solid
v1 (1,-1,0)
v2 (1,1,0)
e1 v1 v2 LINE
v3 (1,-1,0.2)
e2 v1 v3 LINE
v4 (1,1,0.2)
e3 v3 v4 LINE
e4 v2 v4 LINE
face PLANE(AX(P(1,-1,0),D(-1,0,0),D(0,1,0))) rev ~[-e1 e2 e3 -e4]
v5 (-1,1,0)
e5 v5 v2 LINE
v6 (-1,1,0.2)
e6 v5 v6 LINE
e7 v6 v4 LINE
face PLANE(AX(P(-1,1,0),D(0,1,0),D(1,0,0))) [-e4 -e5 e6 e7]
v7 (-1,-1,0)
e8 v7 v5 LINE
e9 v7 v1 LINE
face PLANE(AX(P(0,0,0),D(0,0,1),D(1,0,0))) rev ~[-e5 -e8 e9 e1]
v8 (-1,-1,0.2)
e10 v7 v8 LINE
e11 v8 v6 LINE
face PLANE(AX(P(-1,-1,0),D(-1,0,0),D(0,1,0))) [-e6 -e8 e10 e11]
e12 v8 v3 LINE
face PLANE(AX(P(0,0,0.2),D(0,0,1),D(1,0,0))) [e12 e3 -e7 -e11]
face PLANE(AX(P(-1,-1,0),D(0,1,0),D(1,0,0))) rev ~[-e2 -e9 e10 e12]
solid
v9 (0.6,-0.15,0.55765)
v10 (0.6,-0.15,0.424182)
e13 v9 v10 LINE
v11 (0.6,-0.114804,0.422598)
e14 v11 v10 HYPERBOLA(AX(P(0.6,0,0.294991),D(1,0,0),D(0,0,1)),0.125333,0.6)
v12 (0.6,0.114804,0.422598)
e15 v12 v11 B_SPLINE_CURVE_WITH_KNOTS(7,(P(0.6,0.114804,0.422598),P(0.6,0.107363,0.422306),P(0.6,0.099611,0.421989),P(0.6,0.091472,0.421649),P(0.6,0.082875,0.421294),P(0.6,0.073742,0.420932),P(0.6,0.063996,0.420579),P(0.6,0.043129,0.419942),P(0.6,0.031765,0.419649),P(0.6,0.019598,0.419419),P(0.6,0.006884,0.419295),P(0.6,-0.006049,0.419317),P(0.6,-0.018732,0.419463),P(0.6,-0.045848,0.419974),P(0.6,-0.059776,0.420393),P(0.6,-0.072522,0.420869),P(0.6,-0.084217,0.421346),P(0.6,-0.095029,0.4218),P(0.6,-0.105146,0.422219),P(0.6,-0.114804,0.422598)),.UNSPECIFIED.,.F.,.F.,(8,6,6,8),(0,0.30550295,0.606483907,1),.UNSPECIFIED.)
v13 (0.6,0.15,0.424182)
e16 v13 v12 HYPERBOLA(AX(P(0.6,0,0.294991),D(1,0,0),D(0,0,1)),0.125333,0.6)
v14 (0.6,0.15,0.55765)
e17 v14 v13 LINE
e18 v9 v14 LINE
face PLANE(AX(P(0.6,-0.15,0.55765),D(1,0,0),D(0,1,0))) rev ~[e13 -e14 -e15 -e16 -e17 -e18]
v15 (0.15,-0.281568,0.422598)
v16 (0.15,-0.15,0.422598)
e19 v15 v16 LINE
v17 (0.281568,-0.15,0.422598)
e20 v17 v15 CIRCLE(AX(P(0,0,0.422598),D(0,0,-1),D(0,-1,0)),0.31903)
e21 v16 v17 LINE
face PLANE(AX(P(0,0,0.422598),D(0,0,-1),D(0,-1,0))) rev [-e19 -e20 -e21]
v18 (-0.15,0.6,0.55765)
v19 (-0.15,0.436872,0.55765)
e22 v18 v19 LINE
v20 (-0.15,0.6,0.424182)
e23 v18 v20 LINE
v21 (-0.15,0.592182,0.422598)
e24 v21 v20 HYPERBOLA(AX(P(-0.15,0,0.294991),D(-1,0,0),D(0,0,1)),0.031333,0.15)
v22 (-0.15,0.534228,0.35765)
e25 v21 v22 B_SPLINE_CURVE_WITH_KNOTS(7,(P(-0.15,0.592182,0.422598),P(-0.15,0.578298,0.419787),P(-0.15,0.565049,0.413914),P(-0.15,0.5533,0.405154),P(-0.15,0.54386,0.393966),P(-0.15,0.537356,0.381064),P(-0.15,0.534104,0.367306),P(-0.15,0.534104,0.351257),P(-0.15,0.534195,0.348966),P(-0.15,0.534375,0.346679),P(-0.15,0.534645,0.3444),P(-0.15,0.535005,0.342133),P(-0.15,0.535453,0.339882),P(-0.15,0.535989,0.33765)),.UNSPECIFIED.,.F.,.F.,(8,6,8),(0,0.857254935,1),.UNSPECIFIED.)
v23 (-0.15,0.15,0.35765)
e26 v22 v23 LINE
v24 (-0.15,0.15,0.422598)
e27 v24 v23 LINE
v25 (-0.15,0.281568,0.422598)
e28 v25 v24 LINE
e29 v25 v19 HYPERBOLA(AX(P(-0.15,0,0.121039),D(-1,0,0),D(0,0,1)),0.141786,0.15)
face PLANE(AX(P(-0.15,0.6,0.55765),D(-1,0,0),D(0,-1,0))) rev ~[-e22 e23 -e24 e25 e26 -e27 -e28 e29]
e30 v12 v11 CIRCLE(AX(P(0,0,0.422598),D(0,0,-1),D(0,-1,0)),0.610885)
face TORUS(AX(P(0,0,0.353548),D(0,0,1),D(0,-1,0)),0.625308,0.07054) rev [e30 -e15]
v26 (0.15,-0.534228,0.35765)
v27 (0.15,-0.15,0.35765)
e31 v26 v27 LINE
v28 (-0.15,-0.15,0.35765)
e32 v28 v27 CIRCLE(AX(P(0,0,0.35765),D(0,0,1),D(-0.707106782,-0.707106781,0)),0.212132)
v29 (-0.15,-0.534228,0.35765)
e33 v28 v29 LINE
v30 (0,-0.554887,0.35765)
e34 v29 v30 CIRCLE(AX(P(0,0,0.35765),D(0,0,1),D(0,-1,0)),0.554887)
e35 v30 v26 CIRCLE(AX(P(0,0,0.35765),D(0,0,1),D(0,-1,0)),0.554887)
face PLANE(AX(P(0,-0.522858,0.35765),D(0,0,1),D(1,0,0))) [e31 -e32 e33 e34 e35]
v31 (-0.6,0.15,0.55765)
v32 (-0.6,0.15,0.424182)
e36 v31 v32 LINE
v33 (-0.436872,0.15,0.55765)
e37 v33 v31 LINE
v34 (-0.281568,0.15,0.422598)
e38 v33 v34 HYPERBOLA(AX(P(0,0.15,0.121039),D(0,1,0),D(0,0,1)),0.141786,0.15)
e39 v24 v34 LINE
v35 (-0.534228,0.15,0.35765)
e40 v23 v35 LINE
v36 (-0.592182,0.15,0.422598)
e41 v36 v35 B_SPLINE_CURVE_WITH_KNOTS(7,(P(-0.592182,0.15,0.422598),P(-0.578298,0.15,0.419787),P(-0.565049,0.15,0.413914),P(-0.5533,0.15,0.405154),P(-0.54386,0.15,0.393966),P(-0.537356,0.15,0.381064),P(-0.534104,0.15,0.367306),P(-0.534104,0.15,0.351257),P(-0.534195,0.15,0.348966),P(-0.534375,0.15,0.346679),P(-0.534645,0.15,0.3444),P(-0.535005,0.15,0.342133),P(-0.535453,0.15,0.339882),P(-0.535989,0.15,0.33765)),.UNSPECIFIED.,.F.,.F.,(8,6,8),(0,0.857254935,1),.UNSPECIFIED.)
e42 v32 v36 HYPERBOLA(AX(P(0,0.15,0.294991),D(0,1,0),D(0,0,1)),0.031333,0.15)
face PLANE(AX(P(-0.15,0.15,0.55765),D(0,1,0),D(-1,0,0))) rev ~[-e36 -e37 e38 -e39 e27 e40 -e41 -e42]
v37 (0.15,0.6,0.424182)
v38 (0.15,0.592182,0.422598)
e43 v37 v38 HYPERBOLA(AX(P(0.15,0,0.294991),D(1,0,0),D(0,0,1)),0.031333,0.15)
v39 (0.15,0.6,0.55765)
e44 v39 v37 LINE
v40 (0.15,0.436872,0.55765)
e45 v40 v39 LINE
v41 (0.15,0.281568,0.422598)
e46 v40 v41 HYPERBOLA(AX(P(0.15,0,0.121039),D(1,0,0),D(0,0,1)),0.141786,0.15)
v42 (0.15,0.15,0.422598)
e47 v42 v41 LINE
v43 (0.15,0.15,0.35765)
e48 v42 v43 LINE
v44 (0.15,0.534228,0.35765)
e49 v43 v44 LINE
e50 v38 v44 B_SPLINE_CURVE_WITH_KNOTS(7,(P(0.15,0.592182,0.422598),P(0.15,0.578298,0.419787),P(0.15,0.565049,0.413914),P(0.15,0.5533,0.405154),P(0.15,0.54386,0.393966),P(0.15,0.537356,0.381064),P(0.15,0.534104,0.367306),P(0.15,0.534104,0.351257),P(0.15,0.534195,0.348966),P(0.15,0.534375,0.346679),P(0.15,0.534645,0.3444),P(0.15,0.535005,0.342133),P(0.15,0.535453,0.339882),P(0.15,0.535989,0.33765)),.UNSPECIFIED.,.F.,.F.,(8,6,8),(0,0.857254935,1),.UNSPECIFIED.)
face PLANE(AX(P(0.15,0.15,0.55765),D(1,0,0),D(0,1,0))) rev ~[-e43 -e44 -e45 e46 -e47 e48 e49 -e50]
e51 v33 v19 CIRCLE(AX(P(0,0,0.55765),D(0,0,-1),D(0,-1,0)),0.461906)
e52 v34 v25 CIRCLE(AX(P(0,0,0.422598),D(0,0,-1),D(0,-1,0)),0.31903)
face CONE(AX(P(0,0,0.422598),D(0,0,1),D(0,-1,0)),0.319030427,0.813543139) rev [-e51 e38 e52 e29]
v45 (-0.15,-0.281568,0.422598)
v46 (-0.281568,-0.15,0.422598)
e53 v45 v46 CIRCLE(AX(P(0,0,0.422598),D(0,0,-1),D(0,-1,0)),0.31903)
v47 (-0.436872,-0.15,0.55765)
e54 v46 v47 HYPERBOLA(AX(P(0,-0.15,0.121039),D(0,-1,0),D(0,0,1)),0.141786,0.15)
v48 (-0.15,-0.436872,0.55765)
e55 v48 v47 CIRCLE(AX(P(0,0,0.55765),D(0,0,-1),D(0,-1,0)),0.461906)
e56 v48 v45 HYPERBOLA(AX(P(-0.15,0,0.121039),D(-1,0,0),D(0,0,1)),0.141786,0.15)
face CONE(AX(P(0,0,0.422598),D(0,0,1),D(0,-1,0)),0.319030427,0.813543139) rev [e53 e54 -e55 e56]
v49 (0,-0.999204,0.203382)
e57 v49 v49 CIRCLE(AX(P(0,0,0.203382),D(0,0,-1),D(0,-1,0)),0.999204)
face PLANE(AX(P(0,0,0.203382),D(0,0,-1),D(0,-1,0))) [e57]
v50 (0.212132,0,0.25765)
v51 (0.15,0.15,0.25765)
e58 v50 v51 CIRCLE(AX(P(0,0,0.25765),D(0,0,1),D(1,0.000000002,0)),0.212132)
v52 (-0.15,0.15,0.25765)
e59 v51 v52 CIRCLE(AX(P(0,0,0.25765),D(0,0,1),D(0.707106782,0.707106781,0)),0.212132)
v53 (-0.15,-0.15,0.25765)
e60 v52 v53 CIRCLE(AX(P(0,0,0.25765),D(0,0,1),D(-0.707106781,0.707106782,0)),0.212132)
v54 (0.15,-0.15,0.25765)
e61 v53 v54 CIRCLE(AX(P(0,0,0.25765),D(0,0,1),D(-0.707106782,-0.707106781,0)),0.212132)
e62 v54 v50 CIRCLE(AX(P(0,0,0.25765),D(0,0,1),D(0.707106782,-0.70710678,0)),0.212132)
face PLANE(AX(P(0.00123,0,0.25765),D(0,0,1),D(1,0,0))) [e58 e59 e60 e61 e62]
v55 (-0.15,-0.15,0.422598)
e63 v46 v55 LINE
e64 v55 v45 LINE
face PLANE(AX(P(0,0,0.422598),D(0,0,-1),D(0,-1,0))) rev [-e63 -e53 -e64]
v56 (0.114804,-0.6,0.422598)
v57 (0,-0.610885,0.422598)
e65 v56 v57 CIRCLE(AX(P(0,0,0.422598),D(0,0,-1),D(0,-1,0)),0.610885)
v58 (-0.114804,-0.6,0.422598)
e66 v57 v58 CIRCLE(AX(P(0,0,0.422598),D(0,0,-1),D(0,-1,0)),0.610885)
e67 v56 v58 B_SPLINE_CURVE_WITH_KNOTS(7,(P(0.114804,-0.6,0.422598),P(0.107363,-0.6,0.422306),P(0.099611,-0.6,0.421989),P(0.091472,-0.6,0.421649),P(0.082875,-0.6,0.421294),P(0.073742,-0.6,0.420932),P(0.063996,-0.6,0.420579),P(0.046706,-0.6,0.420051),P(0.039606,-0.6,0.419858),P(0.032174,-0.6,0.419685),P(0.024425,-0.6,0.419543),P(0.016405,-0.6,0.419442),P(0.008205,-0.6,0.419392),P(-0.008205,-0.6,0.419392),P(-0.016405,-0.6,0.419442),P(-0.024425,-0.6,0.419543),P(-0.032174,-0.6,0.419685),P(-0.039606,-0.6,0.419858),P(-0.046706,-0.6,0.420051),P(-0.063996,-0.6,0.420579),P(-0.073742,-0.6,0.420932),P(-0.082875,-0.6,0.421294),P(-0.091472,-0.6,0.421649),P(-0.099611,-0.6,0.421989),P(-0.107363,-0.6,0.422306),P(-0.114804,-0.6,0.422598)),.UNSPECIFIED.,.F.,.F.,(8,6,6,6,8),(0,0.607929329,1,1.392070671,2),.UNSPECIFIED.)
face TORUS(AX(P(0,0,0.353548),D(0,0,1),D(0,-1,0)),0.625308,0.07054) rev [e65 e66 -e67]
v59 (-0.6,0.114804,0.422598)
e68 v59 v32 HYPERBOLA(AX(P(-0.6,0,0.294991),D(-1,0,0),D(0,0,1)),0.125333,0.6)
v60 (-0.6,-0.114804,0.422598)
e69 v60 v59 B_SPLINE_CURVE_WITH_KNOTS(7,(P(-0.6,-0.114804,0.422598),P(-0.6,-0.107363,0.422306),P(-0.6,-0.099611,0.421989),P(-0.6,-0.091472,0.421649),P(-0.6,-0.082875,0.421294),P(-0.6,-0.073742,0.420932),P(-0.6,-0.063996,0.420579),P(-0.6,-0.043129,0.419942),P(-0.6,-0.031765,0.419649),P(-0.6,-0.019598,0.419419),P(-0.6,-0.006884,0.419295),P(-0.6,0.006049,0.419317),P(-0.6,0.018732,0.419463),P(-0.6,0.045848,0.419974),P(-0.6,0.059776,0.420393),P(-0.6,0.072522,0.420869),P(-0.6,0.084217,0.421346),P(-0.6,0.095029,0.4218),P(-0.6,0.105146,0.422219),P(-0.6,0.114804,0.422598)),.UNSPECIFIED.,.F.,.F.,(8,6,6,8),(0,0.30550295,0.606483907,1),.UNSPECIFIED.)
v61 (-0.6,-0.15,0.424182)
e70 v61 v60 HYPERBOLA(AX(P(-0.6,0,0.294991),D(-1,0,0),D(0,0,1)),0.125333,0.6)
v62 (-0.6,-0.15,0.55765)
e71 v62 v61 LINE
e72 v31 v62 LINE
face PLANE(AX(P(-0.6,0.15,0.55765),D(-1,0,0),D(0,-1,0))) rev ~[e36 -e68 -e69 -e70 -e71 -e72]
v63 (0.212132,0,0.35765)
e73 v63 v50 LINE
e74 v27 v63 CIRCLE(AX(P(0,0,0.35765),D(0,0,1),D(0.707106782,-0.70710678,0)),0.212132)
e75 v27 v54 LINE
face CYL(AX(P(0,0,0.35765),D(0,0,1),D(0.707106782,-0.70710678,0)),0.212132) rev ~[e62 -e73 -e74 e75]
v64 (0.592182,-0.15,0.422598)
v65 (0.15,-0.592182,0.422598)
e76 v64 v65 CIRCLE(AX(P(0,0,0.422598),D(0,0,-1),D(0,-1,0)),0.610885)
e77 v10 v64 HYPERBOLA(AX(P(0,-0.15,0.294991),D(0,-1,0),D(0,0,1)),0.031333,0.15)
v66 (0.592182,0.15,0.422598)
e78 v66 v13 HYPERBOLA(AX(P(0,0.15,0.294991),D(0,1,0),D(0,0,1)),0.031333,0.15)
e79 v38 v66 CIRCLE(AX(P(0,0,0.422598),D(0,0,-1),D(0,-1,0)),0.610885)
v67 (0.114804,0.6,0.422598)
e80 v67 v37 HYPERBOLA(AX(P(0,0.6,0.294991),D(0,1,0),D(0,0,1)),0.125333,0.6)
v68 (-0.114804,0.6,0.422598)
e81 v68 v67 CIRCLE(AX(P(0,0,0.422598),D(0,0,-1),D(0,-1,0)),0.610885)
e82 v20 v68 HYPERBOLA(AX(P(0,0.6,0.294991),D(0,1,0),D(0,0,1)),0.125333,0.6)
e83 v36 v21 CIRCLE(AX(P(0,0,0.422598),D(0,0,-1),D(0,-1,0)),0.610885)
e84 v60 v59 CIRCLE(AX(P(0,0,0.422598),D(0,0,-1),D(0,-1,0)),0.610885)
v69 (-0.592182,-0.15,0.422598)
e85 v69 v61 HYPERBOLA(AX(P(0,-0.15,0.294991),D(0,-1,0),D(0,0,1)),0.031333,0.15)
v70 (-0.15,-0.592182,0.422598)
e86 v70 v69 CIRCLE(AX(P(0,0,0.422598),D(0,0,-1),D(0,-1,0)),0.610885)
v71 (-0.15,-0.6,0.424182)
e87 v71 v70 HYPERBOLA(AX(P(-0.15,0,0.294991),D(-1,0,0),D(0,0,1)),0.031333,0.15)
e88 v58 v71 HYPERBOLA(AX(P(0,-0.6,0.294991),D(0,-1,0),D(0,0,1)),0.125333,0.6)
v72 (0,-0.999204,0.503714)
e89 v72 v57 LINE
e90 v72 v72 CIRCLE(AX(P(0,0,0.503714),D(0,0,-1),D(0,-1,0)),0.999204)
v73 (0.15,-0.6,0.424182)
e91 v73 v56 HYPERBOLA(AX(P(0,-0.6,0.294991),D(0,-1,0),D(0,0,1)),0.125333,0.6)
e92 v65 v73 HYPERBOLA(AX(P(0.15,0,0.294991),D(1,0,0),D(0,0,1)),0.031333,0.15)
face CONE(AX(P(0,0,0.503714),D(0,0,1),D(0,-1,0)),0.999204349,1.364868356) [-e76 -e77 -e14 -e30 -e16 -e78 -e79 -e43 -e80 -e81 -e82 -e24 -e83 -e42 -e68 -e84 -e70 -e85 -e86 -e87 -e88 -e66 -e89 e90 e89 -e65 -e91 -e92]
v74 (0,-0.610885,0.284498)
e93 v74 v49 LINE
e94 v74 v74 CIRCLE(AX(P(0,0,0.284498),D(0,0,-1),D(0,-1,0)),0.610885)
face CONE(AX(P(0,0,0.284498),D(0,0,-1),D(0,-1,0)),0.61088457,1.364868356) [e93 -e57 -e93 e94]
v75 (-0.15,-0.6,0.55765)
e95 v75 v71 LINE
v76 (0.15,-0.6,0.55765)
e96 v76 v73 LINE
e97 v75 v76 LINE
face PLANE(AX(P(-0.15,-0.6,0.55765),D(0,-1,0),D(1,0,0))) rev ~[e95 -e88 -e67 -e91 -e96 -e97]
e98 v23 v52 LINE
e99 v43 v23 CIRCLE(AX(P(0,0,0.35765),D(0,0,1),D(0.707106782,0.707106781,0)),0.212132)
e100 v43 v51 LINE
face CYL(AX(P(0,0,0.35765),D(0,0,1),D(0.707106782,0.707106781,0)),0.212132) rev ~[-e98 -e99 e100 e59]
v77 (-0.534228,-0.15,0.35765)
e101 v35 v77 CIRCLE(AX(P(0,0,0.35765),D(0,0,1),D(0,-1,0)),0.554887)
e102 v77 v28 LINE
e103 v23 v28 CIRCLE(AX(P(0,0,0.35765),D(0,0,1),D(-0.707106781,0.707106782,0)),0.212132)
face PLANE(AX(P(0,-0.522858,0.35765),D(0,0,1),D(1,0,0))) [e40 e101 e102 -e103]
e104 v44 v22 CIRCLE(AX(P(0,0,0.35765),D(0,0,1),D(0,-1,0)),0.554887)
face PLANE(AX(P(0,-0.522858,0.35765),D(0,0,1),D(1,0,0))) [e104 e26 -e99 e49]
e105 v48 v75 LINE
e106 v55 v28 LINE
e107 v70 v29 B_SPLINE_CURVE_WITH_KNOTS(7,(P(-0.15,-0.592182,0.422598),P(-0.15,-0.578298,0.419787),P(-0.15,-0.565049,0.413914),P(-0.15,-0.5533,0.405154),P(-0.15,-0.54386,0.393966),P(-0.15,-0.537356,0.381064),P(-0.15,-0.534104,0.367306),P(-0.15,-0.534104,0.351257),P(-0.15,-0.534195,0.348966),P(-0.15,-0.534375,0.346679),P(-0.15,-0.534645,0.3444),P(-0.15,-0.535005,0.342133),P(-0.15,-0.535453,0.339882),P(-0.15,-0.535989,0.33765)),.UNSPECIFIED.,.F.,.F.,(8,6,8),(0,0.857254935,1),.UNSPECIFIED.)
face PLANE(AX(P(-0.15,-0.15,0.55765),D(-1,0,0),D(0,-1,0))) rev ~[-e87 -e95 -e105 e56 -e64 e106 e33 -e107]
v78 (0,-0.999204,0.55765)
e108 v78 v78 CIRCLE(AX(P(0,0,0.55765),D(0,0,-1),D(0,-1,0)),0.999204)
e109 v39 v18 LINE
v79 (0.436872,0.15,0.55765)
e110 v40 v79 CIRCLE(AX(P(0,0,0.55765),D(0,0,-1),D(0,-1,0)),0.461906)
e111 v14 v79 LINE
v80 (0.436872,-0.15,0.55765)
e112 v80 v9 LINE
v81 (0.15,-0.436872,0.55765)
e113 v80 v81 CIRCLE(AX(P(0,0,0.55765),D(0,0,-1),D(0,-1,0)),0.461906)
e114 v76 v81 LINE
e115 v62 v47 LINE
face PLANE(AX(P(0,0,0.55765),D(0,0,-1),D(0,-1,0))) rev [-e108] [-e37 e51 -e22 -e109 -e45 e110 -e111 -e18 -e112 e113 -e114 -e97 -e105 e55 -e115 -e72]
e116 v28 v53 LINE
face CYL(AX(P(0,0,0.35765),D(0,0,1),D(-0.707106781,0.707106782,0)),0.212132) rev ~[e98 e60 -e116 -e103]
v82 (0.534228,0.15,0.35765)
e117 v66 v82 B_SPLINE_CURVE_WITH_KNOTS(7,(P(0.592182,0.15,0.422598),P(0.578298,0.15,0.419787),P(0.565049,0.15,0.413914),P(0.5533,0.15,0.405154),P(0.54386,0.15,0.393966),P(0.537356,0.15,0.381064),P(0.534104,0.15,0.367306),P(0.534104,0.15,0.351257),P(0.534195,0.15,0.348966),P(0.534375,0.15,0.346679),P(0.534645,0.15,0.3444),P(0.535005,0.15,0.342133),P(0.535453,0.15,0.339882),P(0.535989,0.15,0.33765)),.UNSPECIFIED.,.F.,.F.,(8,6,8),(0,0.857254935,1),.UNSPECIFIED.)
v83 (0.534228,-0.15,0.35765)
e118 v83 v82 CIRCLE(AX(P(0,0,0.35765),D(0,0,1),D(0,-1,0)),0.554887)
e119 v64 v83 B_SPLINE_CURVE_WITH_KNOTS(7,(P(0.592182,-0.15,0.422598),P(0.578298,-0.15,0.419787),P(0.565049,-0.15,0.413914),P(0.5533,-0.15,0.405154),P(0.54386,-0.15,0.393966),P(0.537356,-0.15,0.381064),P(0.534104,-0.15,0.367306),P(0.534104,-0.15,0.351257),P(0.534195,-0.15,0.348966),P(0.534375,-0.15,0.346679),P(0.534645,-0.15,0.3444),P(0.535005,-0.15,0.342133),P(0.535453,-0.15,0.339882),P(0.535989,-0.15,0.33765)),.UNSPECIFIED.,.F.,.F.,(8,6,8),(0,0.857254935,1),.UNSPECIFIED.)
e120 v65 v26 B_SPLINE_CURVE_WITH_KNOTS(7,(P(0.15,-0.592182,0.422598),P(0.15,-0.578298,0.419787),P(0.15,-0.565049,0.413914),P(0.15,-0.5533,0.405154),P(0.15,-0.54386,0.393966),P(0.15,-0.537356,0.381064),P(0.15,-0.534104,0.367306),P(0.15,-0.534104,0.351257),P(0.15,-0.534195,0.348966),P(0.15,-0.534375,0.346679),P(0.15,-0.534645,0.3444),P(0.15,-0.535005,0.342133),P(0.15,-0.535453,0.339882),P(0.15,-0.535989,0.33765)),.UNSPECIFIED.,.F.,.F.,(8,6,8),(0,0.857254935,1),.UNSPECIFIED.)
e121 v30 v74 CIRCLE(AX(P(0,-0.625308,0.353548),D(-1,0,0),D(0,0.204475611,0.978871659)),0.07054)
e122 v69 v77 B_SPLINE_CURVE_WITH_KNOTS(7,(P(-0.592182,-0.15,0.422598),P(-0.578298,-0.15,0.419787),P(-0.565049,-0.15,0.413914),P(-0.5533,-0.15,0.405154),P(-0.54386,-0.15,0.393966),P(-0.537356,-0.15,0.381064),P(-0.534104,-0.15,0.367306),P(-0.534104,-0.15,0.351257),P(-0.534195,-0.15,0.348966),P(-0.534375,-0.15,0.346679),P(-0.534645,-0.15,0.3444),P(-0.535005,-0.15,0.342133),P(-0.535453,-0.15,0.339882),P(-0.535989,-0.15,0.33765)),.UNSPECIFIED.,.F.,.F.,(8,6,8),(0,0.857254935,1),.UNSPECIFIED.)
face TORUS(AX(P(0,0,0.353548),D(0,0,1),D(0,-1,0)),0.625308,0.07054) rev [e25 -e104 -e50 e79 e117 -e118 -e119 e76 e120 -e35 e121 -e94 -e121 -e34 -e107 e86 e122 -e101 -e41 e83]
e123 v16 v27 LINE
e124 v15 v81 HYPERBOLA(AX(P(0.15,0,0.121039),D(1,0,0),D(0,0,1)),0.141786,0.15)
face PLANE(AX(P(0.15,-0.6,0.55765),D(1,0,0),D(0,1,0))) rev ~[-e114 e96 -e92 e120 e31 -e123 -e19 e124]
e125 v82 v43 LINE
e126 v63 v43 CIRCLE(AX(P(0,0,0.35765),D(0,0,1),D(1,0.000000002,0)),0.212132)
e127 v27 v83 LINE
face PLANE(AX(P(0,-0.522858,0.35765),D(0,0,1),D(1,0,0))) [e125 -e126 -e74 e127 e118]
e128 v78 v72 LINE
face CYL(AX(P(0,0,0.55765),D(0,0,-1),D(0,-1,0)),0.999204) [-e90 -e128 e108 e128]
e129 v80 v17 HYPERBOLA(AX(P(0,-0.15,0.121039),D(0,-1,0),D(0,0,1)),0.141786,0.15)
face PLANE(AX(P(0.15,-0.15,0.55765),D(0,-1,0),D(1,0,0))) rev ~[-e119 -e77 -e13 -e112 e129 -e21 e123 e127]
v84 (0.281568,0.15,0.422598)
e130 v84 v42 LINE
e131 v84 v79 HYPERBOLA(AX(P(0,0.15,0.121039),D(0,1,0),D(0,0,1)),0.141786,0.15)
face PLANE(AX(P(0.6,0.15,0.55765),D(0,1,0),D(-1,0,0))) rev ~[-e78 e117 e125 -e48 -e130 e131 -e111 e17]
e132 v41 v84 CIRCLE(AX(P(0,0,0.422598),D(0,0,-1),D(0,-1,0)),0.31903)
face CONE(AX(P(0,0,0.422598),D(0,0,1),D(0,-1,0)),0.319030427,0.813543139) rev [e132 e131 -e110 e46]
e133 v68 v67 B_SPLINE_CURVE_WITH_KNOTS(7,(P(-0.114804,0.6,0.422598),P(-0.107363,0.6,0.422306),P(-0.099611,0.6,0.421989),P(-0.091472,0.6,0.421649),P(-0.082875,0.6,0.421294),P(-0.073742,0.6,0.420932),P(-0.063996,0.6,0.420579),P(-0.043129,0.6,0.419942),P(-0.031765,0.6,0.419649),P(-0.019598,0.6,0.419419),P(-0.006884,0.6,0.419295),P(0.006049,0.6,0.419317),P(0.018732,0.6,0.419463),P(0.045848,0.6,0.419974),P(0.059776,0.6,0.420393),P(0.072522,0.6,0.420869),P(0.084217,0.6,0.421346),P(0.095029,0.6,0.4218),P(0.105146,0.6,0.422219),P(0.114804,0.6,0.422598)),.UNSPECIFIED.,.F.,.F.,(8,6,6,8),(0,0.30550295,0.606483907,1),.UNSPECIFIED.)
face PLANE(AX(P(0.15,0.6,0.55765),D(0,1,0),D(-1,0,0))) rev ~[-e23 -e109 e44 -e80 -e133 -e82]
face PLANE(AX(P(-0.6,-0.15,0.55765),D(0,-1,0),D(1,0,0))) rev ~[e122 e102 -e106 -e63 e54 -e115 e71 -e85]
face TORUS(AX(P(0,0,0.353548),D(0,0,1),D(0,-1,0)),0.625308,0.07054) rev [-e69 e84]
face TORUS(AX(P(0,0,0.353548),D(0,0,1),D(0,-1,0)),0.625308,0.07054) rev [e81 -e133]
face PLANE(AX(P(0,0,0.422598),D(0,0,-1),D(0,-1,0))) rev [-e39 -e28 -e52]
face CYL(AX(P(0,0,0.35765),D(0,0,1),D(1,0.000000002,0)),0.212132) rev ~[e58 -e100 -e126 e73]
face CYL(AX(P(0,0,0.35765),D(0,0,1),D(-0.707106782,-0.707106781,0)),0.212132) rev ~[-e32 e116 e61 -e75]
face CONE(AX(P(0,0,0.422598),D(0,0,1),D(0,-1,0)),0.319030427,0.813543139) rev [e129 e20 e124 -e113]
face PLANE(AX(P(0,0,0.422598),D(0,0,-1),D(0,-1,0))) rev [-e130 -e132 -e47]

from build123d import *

# Parameters (mm, degrees)
F0_W     = 2
F0_H     = 2
F1_DEPTH = 0.2
F4_W     = 0.3
F4_H     = 0.3
F5_DEPTH = 0.2
F7_DEPTH = 0.1


with BuildPart() as f1:
    # F0 (on Top) → F1 (new body)
    with BuildSketch(Plane.XY):
        Rectangle(F0_W, F0_H)
    extrude(amount=F1_DEPTH)


with BuildPart() as f3:
    # F2 (on Right) → F3 (revolve)
    with BuildSketch(Plane.YZ):
        with BuildLine():
            Line((-0.6108845701, 0.2844980918), (-0.9992043488, 0.2033823257))
            Line((-0.9992043488, 0.2033823257), (0, 0.2033823257))
            Line((0, 0.2033823257), (0, 0.4225981247))
            Line((0, 0.4225981247), (-0.3190304269, 0.4225981247))
            Line((-0.3190304269, 0.4225981247), (-0.4619063984, 0.5576497642))
            Line((-0.4619063984, 0.5576497642), (-0.9992043488, 0.5576497642))
            Line((-0.9992043488, 0.5576497642), (-0.9992043488, 0.5037138908))
            Line((-0.9992043488, 0.5037138908), (-0.6108845701, 0.4225981247))
            ThreePointArc((-0.6108845701, 0.4225981247), (-0.5547679468, 0.3535481083), (-0.6108845701, 0.2844980918))
        make_face()
    revolve(axis=Axis((0, 0, 0.3129902252), (0, 0, -1)))

    # F4 (on face) → F5 (cut)
    with BuildSketch(Plane.XY.offset(0.5576497642)):
        with BuildLine():
            Line((0.15, -0.6), (0.15, -0.4368724309))
            ThreePointArc((0.15, -0.4368724309), (0, -0.4619063984), (-0.15, -0.4368724309))
            Line((-0.15, -0.4368724309), (-0.15, -0.6))
            Line((-0.15, -0.6), (0.15, -0.6))
        make_face()
        with BuildLine():
            Line((0.15, -0.4368724309), (0.15, -0.15))
            Line((0.15, -0.15), (-0.15, -0.15))
            Line((-0.15, -0.15), (-0.15, -0.4368724309))
            ThreePointArc((-0.15, -0.4368724309), (0, -0.4619063984), (0.15, -0.4368724309))
        make_face()
        Rectangle(F4_W, F4_H)
        with BuildLine():
            Line((-0.15, 0.15), (0.15, 0.15))
            Line((0.15, 0.15), (0.15, 0.4368724309))
            ThreePointArc((0.15, 0.4368724309), (0, 0.4619063984), (-0.15, 0.4368724309))
            Line((-0.15, 0.4368724309), (-0.15, 0.15))
        make_face()
        with BuildLine():
            ThreePointArc((-0.15, 0.4368724309), (0, 0.4619063984), (0.15, 0.4368724309))
            Line((0.15, 0.4368724309), (0.15, 0.6))
            Line((0.15, 0.6), (-0.15, 0.6))
            Line((-0.15, 0.6), (-0.15, 0.4368724309))
        make_face()
        with BuildLine():
            ThreePointArc((0.4619063984, 0), (0.4556049232, 0.0760373256), (0.4368724309, 0.15))
            Line((0.4368724309, 0.15), (0.15, 0.15))
            Line((0.15, 0.15), (0.15, -0.15))
            Line((0.15, -0.15), (0.4368724309, -0.15))
            ThreePointArc((0.4368724309, -0.15), (0.4556049232, -0.0760373256), (0.4619063984, 0))
        make_face()
        with BuildLine():
            Line((0.6, -0.15), (0.6, 0.15))
            Line((0.6, 0.15), (0.4368724309, 0.15))
            ThreePointArc((0.4368724309, 0.15), (0.4556049232, 0.0760373256), (0.4619063984, 0))
            ThreePointArc((0.4619063984, 0), (0.4556049232, -0.0760373256), (0.4368724309, -0.15))
            Line((0.4368724309, -0.15), (0.6, -0.15))
        make_face()
        with BuildLine():
            ThreePointArc((-0.4368724309, -0.15), (-0.4619063984, 0), (-0.4368724309, 0.15))
            Line((-0.4368724309, 0.15), (-0.6, 0.15))
            Line((-0.6, 0.15), (-0.6, -0.15))
            Line((-0.6, -0.15), (-0.4368724309, -0.15))
        make_face()
        with BuildLine():
            Line((-0.15, -0.15), (-0.15, 0.15))
            Line((-0.15, 0.15), (-0.4368724309, 0.15))
            ThreePointArc((-0.4368724309, 0.15), (-0.4619063984, 0), (-0.4368724309, -0.15))
            Line((-0.4368724309, -0.15), (-0.15, -0.15))
        make_face()
    extrude(amount=-F5_DEPTH, mode=Mode.SUBTRACT)

    # F6 (on face) → F7 (cut)
    with BuildSketch(Plane.XY.offset(0.3576497642)):
        with BuildLine():
            ThreePointArc((0.15, -0.15), (0.1959844447, -0.081179415), (0.2121320344, 0))
            ThreePointArc((0.2121320344, 0), (0.1959844447, 0.081179415), (0.15, 0.15))
            ThreePointArc((0.15, 0.15), (0, 0.2121320344), (-0.15, 0.15))
            ThreePointArc((-0.15, 0.15), (-0.2121320344, 0), (-0.15, -0.15))
            ThreePointArc((-0.15, -0.15), (0, -0.2121320344), (0.15, -0.15))
        make_face()
    extrude(amount=-F7_DEPTH, mode=Mode.SUBTRACT)


solid = Compound([f1.part, f3.part])
